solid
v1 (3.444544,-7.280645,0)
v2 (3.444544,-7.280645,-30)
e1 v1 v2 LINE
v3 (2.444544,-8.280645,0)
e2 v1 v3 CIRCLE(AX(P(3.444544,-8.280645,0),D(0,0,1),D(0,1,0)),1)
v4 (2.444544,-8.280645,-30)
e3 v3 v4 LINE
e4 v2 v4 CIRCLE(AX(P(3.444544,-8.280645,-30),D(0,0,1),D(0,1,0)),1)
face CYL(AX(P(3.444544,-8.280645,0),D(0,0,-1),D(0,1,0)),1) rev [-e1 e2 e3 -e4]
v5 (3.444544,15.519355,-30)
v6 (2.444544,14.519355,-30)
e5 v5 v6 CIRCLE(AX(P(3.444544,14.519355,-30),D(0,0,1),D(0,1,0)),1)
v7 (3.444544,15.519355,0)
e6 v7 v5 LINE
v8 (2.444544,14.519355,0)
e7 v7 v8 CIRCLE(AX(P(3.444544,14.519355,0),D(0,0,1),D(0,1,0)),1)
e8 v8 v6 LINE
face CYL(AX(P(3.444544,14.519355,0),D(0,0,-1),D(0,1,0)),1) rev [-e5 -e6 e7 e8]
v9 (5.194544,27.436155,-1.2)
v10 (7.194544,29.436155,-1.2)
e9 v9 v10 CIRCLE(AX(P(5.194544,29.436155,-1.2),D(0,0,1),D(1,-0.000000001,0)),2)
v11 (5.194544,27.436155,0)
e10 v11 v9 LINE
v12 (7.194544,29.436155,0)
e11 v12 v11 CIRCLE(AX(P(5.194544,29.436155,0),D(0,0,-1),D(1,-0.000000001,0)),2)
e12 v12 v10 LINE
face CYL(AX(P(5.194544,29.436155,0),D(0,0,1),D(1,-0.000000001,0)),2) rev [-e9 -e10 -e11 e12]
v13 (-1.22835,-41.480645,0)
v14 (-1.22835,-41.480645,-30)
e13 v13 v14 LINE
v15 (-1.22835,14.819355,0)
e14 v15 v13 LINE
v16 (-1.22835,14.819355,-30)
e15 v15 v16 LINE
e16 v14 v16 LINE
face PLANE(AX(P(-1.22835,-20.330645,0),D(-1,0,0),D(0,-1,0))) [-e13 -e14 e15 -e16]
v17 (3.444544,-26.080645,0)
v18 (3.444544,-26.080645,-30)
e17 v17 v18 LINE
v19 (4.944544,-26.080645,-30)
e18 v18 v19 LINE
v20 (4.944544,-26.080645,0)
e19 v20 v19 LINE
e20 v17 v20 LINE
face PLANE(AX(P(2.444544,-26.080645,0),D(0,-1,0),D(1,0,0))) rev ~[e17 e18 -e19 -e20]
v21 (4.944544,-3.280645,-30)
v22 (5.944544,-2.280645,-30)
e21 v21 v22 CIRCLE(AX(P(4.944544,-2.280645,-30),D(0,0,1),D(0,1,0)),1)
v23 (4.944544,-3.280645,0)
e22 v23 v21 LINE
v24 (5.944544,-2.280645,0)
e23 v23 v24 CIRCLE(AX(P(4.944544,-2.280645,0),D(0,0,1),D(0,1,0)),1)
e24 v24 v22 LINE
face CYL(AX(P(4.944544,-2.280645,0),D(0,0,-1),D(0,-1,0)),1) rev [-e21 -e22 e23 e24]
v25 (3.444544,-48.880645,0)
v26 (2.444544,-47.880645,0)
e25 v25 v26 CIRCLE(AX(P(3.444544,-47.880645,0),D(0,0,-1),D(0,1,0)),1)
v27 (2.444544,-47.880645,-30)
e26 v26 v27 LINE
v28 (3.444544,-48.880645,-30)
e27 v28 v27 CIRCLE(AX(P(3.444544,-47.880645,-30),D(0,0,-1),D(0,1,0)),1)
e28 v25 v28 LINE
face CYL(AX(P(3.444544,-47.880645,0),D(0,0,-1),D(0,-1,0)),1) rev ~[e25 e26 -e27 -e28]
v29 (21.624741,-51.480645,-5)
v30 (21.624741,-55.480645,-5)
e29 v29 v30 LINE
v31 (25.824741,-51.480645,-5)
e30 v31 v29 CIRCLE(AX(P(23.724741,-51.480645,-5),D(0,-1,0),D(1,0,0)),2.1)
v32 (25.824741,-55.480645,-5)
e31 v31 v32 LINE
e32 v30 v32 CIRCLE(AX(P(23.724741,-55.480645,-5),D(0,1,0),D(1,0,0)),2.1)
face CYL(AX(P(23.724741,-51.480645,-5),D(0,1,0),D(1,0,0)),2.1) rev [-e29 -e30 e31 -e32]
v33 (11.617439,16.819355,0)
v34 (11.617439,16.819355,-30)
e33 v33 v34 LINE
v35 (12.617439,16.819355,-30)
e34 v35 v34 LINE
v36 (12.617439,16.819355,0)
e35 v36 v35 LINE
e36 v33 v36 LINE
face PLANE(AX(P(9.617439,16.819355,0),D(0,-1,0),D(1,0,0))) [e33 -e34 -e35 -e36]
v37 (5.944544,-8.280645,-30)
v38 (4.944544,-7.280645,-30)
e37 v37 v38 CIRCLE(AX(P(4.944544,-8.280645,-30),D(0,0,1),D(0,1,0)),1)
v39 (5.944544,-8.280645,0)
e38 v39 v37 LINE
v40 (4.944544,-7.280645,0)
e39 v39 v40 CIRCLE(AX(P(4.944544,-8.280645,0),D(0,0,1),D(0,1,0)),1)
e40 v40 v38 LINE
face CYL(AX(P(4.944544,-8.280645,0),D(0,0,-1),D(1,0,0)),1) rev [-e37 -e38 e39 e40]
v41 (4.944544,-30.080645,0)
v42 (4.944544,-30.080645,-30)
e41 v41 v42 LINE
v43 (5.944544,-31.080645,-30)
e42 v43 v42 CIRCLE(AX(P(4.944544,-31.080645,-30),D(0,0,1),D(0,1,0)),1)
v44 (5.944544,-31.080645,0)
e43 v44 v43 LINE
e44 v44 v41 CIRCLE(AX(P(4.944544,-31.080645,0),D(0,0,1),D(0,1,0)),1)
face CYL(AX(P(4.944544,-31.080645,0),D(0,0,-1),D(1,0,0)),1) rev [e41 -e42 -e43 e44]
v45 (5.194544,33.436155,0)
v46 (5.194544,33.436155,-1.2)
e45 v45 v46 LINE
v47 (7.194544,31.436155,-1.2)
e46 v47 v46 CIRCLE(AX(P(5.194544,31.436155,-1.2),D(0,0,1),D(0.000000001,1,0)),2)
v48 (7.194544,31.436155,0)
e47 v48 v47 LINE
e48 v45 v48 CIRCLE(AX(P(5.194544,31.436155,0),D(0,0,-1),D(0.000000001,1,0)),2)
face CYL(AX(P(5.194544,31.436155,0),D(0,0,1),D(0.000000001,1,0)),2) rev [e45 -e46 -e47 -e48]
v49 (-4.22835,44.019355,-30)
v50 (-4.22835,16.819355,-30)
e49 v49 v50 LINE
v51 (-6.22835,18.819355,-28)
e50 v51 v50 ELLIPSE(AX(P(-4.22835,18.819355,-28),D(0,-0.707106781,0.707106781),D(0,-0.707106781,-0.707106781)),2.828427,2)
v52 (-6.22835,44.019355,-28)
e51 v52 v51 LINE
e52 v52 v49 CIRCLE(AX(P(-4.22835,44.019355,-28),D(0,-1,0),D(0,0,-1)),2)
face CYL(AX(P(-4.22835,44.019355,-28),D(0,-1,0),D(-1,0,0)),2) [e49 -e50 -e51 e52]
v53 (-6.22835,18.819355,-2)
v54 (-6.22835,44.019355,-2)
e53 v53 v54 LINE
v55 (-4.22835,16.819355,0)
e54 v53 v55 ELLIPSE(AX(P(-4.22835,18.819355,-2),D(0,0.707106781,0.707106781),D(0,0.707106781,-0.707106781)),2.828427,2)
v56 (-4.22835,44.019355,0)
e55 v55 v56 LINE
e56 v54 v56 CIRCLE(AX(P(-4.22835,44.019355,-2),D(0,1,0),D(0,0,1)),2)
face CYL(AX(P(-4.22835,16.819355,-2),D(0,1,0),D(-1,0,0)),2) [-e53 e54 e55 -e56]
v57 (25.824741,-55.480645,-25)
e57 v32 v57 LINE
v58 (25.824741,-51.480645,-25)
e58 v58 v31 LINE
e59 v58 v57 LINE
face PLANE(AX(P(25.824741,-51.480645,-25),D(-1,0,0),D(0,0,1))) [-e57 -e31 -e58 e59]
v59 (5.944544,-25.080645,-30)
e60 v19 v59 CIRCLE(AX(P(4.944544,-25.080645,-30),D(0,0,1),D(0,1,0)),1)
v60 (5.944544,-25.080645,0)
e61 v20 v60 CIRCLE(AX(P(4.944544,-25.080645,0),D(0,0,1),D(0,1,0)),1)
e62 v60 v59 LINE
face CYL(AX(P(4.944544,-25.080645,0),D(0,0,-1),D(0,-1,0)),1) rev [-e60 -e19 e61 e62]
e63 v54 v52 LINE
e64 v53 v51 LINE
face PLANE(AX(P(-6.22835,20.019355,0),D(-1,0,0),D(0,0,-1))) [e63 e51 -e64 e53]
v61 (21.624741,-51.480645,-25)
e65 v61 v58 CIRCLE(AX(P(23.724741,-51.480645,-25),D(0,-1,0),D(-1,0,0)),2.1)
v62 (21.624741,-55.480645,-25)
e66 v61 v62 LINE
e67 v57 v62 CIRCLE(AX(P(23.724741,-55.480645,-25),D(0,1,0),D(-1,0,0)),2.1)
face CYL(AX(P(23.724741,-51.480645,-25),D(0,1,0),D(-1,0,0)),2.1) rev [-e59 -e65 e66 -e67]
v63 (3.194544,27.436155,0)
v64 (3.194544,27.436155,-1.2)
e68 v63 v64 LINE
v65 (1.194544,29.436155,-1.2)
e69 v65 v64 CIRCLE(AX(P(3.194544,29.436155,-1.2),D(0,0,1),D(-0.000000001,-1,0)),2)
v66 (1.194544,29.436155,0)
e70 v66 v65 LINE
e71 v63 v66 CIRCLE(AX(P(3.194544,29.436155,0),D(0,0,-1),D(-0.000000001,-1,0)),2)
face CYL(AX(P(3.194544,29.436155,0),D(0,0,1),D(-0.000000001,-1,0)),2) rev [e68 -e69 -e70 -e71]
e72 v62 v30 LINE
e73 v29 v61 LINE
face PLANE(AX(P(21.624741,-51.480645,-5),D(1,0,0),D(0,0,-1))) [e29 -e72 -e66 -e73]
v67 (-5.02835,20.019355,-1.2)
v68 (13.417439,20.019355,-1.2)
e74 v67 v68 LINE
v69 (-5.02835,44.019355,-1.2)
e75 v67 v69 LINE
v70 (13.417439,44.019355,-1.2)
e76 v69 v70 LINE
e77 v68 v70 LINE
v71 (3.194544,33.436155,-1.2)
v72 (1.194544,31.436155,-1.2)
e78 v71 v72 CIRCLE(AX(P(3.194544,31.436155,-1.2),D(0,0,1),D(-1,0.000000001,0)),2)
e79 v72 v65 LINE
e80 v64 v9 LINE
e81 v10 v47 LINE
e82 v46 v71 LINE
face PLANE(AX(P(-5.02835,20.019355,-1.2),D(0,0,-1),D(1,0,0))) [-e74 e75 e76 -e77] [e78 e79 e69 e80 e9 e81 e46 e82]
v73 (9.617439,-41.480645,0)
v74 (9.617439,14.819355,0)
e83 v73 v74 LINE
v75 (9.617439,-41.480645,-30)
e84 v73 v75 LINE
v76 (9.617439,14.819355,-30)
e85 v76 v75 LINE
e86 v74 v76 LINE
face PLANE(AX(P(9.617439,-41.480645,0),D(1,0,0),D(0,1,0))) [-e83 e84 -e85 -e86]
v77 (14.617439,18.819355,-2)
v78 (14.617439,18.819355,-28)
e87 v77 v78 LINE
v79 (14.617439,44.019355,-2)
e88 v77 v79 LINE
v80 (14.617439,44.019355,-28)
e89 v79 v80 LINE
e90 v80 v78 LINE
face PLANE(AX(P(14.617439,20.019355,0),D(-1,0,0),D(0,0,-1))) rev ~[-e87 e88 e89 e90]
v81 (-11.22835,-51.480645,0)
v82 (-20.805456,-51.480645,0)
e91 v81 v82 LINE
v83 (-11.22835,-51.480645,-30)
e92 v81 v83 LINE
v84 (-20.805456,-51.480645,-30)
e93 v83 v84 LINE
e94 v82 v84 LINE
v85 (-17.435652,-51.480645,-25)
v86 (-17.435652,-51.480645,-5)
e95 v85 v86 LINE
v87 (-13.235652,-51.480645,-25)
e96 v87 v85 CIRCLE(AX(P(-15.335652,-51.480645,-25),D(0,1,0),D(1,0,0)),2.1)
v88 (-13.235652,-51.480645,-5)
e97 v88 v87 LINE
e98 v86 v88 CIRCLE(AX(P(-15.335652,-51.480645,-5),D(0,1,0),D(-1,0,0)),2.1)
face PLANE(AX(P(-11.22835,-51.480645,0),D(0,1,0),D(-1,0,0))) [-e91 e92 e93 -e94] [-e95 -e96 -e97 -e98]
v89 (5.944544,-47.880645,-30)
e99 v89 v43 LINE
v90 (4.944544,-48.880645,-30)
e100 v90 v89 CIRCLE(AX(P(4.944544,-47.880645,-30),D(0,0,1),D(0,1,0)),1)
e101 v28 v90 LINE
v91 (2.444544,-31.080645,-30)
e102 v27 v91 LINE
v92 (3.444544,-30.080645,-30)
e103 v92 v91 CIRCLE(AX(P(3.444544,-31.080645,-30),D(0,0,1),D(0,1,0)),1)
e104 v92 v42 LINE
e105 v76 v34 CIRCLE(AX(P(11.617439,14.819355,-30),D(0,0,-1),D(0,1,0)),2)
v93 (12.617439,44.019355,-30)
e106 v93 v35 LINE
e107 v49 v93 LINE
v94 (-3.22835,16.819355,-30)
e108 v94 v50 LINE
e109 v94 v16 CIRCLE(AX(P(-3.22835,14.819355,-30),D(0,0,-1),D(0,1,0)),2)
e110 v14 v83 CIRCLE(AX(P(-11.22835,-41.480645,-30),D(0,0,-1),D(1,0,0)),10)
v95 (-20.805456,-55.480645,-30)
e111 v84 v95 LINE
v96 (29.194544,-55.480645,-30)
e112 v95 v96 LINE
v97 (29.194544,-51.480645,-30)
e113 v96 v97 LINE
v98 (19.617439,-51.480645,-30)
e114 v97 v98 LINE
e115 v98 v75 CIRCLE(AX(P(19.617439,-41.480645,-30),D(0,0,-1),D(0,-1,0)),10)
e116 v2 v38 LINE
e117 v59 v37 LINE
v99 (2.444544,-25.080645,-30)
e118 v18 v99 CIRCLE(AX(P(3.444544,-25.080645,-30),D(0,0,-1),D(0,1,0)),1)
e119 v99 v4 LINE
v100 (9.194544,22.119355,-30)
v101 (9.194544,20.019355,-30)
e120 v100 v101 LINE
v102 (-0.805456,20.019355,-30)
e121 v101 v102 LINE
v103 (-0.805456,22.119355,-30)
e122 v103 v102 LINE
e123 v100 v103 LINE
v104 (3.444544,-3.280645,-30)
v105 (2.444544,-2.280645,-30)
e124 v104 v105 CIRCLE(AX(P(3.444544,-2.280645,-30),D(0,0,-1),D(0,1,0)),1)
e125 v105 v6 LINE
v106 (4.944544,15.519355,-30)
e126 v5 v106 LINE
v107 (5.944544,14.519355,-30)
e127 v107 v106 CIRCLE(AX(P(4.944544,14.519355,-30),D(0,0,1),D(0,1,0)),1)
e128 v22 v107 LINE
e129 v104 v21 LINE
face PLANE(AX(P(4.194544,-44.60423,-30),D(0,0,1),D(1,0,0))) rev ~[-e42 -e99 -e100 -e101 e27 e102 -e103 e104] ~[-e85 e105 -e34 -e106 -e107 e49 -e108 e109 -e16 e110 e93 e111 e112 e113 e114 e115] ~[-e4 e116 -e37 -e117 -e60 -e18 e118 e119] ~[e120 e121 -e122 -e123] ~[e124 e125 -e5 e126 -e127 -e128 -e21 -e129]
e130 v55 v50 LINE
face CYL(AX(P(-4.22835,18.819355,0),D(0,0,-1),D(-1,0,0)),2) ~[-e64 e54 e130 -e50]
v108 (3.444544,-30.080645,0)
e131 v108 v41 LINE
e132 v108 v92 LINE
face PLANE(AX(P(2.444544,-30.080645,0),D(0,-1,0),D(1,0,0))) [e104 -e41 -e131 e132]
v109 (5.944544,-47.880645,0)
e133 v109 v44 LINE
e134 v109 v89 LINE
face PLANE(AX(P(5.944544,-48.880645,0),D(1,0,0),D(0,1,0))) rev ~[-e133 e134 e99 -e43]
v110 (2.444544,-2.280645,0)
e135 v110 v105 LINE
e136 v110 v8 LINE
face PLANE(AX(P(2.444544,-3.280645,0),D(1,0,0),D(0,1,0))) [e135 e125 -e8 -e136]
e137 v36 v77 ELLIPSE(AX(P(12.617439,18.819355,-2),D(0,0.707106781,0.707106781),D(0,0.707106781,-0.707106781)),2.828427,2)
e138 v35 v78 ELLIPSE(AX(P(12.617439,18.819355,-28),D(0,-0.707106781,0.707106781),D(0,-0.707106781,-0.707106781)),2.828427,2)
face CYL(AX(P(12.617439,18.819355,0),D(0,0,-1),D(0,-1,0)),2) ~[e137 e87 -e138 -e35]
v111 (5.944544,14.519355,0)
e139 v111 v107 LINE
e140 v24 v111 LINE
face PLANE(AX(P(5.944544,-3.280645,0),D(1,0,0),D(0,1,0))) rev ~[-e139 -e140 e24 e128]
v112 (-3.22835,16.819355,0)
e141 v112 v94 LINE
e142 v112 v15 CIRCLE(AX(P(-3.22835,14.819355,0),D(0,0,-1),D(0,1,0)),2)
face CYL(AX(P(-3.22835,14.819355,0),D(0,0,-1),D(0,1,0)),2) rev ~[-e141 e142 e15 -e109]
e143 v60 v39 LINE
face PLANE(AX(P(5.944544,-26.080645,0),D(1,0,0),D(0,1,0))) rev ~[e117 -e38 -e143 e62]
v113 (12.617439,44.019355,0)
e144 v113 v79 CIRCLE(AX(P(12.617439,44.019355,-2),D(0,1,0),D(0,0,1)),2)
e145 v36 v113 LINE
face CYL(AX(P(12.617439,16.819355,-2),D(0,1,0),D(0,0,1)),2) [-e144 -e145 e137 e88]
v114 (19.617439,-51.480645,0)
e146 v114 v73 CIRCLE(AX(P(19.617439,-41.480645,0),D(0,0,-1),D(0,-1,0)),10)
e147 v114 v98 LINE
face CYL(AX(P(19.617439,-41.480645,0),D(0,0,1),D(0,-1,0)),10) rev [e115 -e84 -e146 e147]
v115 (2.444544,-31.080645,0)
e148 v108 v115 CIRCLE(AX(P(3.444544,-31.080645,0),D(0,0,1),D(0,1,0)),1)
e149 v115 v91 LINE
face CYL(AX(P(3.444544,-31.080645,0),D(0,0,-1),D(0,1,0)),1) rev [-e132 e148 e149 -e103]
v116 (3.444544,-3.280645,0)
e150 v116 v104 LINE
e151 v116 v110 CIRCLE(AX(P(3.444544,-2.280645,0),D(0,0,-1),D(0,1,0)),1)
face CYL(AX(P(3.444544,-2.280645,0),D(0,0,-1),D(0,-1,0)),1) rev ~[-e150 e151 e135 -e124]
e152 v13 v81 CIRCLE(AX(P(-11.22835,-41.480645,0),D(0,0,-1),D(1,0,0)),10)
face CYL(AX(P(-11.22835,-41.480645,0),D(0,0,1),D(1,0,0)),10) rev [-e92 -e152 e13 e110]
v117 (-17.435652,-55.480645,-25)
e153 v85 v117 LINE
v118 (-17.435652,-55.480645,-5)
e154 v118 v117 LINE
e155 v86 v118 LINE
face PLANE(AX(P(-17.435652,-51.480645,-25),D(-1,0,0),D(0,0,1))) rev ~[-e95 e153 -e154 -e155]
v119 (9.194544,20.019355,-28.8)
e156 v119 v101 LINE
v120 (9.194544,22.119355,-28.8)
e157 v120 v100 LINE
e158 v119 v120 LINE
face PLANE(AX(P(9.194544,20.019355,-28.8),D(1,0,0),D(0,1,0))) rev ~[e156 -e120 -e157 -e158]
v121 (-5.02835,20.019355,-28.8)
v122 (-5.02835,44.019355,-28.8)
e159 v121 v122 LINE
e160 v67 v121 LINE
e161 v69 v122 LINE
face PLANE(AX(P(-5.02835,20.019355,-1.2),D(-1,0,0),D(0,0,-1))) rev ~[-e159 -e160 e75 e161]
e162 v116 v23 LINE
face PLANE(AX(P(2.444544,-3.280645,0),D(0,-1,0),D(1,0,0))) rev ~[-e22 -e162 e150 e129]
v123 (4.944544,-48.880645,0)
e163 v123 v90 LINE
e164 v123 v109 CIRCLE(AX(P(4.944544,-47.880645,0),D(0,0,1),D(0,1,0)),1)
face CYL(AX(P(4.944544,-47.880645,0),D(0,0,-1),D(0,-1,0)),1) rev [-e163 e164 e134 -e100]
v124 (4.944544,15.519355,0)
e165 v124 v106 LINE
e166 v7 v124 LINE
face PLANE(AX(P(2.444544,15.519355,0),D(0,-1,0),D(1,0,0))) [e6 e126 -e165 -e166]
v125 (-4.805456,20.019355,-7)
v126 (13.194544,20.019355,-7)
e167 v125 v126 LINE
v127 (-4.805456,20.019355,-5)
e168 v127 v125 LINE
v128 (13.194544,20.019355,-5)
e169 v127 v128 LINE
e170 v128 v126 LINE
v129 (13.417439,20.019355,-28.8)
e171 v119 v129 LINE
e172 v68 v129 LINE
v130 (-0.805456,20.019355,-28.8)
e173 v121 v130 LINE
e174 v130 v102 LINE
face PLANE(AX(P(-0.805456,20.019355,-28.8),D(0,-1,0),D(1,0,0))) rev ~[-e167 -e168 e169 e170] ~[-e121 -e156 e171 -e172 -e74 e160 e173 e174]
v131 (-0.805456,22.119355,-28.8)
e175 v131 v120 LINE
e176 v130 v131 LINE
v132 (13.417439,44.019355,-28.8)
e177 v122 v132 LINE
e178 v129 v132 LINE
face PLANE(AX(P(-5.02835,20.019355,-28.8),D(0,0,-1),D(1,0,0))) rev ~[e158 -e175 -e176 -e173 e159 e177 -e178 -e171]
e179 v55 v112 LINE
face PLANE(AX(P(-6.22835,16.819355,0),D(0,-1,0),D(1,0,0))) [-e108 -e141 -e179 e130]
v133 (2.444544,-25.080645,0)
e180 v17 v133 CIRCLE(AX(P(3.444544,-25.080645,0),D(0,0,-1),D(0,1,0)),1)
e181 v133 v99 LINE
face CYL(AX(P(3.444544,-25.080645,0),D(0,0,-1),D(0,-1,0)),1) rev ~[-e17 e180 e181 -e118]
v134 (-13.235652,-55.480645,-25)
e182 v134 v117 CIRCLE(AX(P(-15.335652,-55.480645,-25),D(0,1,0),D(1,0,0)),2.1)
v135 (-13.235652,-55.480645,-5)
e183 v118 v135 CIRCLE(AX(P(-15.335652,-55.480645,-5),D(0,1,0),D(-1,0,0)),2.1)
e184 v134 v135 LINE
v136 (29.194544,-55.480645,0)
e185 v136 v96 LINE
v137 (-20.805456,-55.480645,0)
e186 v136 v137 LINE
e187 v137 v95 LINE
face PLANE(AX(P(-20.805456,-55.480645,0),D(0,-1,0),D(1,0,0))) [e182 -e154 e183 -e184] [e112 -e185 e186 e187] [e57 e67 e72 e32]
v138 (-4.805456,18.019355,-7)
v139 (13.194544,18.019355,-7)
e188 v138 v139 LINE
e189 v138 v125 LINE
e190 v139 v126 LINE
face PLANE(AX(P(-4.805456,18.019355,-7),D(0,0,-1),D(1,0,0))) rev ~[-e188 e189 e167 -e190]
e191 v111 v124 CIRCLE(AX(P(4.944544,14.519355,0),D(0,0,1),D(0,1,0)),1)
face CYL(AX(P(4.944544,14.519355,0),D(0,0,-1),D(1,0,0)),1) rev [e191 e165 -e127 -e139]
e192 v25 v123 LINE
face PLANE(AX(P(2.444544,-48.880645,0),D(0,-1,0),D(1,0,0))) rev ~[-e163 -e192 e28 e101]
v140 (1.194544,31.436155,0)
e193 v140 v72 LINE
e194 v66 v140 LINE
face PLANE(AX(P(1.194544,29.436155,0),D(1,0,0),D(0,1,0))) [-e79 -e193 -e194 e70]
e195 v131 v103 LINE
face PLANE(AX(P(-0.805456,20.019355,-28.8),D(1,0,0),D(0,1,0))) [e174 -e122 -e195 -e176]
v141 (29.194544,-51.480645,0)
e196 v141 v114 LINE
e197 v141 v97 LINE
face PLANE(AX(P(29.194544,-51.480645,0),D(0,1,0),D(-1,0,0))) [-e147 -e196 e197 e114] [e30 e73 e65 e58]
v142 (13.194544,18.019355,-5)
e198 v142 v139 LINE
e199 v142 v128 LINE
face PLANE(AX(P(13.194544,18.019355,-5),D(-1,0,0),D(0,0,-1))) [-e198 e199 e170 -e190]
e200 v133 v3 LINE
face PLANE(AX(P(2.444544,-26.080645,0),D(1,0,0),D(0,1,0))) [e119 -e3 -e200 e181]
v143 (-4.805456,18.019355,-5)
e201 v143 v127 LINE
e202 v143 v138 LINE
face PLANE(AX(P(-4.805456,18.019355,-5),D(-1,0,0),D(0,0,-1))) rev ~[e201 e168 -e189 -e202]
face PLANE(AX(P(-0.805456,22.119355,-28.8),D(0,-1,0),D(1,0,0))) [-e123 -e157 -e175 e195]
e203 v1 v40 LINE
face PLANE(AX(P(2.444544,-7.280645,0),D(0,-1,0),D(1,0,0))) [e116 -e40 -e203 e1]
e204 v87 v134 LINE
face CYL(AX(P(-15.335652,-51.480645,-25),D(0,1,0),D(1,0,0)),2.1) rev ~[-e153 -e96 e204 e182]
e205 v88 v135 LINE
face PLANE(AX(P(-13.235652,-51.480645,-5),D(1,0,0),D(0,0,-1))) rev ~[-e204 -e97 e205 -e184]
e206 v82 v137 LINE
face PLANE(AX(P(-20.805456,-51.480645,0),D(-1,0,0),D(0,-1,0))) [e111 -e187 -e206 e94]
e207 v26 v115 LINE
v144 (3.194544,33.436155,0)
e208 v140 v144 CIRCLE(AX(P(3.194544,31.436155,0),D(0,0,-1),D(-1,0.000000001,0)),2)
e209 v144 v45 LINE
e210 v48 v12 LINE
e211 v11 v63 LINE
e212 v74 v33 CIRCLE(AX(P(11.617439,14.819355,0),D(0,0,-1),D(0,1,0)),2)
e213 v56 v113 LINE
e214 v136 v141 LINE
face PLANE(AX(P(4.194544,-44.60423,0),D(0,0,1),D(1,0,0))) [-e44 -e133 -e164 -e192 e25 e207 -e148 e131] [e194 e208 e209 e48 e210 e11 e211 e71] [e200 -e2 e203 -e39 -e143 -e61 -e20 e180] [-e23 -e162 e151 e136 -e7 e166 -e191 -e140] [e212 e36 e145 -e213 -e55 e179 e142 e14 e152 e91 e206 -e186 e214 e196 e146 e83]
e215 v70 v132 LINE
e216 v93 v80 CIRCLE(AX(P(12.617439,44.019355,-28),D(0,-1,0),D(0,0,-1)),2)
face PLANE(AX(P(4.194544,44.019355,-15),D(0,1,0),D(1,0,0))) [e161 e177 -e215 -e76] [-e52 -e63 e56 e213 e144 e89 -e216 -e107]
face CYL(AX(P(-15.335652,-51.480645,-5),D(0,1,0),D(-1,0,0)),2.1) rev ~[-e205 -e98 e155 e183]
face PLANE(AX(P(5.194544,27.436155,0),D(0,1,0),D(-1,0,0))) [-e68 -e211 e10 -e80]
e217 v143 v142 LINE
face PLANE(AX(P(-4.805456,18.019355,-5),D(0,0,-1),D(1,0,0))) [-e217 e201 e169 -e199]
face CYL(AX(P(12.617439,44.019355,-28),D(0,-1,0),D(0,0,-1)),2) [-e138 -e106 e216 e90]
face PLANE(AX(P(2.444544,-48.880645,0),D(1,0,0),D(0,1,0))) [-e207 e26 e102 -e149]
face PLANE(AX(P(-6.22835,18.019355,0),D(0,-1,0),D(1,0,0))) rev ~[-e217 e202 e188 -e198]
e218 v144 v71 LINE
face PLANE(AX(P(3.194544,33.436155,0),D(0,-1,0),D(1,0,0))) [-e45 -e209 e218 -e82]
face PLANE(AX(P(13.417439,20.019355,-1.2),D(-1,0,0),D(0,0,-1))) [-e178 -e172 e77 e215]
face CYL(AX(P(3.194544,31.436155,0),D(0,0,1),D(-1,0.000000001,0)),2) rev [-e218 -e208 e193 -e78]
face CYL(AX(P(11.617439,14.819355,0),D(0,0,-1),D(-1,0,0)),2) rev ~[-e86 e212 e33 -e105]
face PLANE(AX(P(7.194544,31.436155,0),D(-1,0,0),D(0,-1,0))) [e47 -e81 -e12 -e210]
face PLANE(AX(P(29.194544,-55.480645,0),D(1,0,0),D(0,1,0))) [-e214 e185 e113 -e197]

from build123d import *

# Parameters (mm, degrees)
CROQUIS1_W              = 20.84578855
CROQUIS1_H              = 73.5
SALIENTE_EXTRUIR1_DEPTH = 30
CROQUIS2_W              = 20.84578855
CROQUIS2_H              = 30
CROQUIS2_W_2            = 18
CROQUIS2_H_2            = 2
SALIENTE_EXTRUIR2_DEPTH = 2
CROQUIS3_W              = 20.84578855
CROQUIS3_H              = 30
CROQUIS3_W_2            = 18.44578855
CROQUIS3_H_2            = 27.6
SALIENTE_EXTRUIR3_DEPTH = 24
CORTAR_EXTRUIR1_DEPTH   = 12
CROQUIS6_W              = 10
CROQUIS6_H              = 2.1
CORTAR_EXTRUIR2_DEPTH   = 12
CROQUIS7_W              = 5
CROQUIS7_H              = 72.3
CORTAR_EXTRUIR3_DEPTH   = 81
REDONDEO1_R             = 2
SALIENTE_EXTRUIR4_DEPTH = 30
CORTAR_EXTRUIR4_DEPTH   = 30
CROQUIS11_W             = 3.5
CROQUIS11_H             = 18.8
CORTAR_EXTRUIR5_DEPTH   = 30
REDONDEO2_R             = 1


with BuildPart() as part:
    # Croquis1 → Saliente-Extruir1 (new body)
    with BuildSketch(Plane.XY):
        with Locations((4.194544399, -18.730645161)):
            Rectangle(CROQUIS1_W, CROQUIS1_H)
    extrude(amount=-SALIENTE_EXTRUIR1_DEPTH)

    # Croquis2 → Saliente-Extruir2 (add)
    with BuildSketch(Plane(origin=(0, 18.019354839, 0), x_dir=(1, 0, 0), z_dir=(0, 1, 0))):
        with Locations((4.194544399, 15)):
            Rectangle(CROQUIS2_W, CROQUIS2_H)
        with Locations((4.194544399, 6)):
            Rectangle(CROQUIS2_W_2, CROQUIS2_H_2, mode=Mode.SUBTRACT)
    extrude(amount=SALIENTE_EXTRUIR2_DEPTH)

    # Croquis3 → Saliente-Extruir3 (add)
    with BuildSketch(Plane(origin=(0, 20.019354839, 0), x_dir=(1, 0, 0), z_dir=(0, 1, 0))):
        with Locations((4.194544399, 15)):
            Rectangle(CROQUIS3_W, CROQUIS3_H)
        with Locations((4.194544399, 15)):
            Rectangle(CROQUIS3_W_2, CROQUIS3_H_2, mode=Mode.SUBTRACT)
    extrude(amount=SALIENTE_EXTRUIR3_DEPTH)

    # Croquis4 → Cortar-Extruir1 (cut)
    with BuildSketch(Plane.XY):
        with BuildLine():
            Line((3.194544399, 33.436155454), (5.194544399, 33.436155454))
            ThreePointArc((5.194544399, 33.436155454), (6.608757961, 32.850369016), (7.194544399, 31.436155454))
            Line((7.194544399, 31.436155454), (7.194544399, 29.436155454))
            ThreePointArc((7.194544399, 29.436155454), (6.608757961, 28.021941892), (5.194544399, 27.436155454))
            Line((5.194544399, 27.436155454), (3.194544399, 27.436155454))
            ThreePointArc((3.194544399, 27.436155454), (1.780330837, 28.021941892), (1.194544399, 29.436155454))
            Line((1.194544399, 29.436155454), (1.194544399, 31.436155454))
            ThreePointArc((1.194544399, 31.436155454), (1.780330837, 32.850369016), (3.194544399, 33.436155454))
        make_face()
    extrude(amount=-CORTAR_EXTRUIR1_DEPTH, mode=Mode.SUBTRACT)

    # Croquis6 → Cortar-Extruir2 (cut)
    with BuildSketch(Plane.XY.offset(-28.8)):
        with Locations((4.194544399, 21.069354839)):
            Rectangle(CROQUIS6_W, CROQUIS6_H)
    extrude(amount=-CORTAR_EXTRUIR2_DEPTH, mode=Mode.SUBTRACT)

    # Croquis7 → Cortar-Extruir3 (cut)
    with BuildSketch(Plane.XY):
        with Locations((-3.728349876, -19.330645161)):
            Rectangle(CROQUIS7_W, CROQUIS7_H)
        with Locations((12.117438674, -19.330645161)):
            Rectangle(CROQUIS7_W, CROQUIS7_H)
    extrude(amount=-CORTAR_EXTRUIR3_DEPTH, mode=Mode.SUBTRACT)

    # Redondeo1
    redondeo1_edges = [part.edges().sort_by_distance(p)[0] for p in [
        (-6.228349876, 16.819354839, -15),
        (-1.228349876, 16.819354839, -15),
        (14.617438674, 16.819354839, -15),
        (9.617438674, 16.819354839, -15),
        (-6.228349876, 30.419354839, -30),
        (14.617438674, 30.419354839, -30),
        (-6.228349876, 30.419354839, 0),
        (14.617438674, 30.419354839, 0),
    ]]
    fillet(redondeo1_edges, radius=REDONDEO1_R)

    # Croquis9 → Saliente-Extruir4 (add)
    with BuildSketch(Plane.XY):
        with BuildLine():
            Line((-20.805455601, -55.480645161), (29.194544399, -55.480645161))
            Line((29.194544399, -55.480645161), (29.194544399, -51.480645161))
            Line((29.194544399, -51.480645161), (19.617438674, -51.480645161))
            ThreePointArc((19.617438674, -51.480645161), (12.546370862, -48.551712973), (9.617438674, -41.480645161))
            Line((9.617438674, -41.480645161), (9.617438674, -20.330645161))
            Line((9.617438674, -20.330645161), (-1.228349876, -20.330645161))
            Line((-1.228349876, -20.330645161), (-1.228349876, -41.480645161))
            ThreePointArc((-1.228349876, -41.480645161), (-4.157282064, -48.551712973), (-11.228349876, -51.480645161))
            Line((-11.228349876, -51.480645161), (-20.805455601, -51.480645161))
            Line((-20.805455601, -51.480645161), (-20.805455601, -55.480645161))
        make_face()
    extrude(amount=-SALIENTE_EXTRUIR4_DEPTH)

    # Croquis10 → Cortar-Extruir4 (cut)
    with BuildSketch(Plane(origin=(0, -51.480645161, 0), x_dir=(1, 0, 0), z_dir=(0, 1, 0))):
        with BuildLine():
            Line((25.824740978, 25), (25.824740978, 5))
            ThreePointArc((25.824740978, 5), (23.724740978, 2.9), (21.624740978, 5))
            Line((21.624740978, 5), (21.624740978, 25))
            ThreePointArc((21.624740978, 25), (23.724740978, 27.1), (25.824740978, 25))
        make_face()
        with BuildLine():
            Line((-17.43565218, 25), (-17.43565218, 5))
            ThreePointArc((-17.43565218, 5), (-15.33565218, 2.9), (-13.23565218, 5))
            Line((-13.23565218, 5), (-13.23565218, 25))
            ThreePointArc((-13.23565218, 25), (-15.33565218, 27.1), (-17.43565218, 25))
        make_face()
    extrude(amount=-CORTAR_EXTRUIR4_DEPTH, mode=Mode.SUBTRACT)

    # Croquis11 → Cortar-Extruir5 (cut)
    with BuildSketch(Plane.XY):
        with Locations((4.194544399, 6.119354839)):
            Rectangle(CROQUIS11_W, CROQUIS11_H)
        with Locations((4.194544399, -16.680645161)):
            Rectangle(CROQUIS11_W, CROQUIS11_H)
        with Locations((4.194544399, -39.480645161)):
            Rectangle(CROQUIS11_W, CROQUIS11_H)
    extrude(amount=-CORTAR_EXTRUIR5_DEPTH, mode=Mode.SUBTRACT)

    # Redondeo2
    redondeo2_edges = [part.edges().sort_by_distance(p)[0] for p in [
        (2.444544399, -3.280645161, -15),
        (2.444544399, 15.519354839, -15),
        (5.944544399, 15.519354839, -15),
        (5.944544399, -3.280645161, -15),
        (2.444544399, -26.080645161, -15),
        (2.444544399, -7.280645161, -15),
        (5.944544399, -7.280645161, -15),
        (5.944544399, -26.080645161, -15),
        (2.444544399, -48.880645161, -15),
        (2.444544399, -30.080645161, -15),
        (5.944544399, -30.080645161, -15),
        (5.944544399, -48.880645161, -15),
    ]]
    fillet(redondeo2_edges, radius=REDONDEO2_R)


solid = part.part
